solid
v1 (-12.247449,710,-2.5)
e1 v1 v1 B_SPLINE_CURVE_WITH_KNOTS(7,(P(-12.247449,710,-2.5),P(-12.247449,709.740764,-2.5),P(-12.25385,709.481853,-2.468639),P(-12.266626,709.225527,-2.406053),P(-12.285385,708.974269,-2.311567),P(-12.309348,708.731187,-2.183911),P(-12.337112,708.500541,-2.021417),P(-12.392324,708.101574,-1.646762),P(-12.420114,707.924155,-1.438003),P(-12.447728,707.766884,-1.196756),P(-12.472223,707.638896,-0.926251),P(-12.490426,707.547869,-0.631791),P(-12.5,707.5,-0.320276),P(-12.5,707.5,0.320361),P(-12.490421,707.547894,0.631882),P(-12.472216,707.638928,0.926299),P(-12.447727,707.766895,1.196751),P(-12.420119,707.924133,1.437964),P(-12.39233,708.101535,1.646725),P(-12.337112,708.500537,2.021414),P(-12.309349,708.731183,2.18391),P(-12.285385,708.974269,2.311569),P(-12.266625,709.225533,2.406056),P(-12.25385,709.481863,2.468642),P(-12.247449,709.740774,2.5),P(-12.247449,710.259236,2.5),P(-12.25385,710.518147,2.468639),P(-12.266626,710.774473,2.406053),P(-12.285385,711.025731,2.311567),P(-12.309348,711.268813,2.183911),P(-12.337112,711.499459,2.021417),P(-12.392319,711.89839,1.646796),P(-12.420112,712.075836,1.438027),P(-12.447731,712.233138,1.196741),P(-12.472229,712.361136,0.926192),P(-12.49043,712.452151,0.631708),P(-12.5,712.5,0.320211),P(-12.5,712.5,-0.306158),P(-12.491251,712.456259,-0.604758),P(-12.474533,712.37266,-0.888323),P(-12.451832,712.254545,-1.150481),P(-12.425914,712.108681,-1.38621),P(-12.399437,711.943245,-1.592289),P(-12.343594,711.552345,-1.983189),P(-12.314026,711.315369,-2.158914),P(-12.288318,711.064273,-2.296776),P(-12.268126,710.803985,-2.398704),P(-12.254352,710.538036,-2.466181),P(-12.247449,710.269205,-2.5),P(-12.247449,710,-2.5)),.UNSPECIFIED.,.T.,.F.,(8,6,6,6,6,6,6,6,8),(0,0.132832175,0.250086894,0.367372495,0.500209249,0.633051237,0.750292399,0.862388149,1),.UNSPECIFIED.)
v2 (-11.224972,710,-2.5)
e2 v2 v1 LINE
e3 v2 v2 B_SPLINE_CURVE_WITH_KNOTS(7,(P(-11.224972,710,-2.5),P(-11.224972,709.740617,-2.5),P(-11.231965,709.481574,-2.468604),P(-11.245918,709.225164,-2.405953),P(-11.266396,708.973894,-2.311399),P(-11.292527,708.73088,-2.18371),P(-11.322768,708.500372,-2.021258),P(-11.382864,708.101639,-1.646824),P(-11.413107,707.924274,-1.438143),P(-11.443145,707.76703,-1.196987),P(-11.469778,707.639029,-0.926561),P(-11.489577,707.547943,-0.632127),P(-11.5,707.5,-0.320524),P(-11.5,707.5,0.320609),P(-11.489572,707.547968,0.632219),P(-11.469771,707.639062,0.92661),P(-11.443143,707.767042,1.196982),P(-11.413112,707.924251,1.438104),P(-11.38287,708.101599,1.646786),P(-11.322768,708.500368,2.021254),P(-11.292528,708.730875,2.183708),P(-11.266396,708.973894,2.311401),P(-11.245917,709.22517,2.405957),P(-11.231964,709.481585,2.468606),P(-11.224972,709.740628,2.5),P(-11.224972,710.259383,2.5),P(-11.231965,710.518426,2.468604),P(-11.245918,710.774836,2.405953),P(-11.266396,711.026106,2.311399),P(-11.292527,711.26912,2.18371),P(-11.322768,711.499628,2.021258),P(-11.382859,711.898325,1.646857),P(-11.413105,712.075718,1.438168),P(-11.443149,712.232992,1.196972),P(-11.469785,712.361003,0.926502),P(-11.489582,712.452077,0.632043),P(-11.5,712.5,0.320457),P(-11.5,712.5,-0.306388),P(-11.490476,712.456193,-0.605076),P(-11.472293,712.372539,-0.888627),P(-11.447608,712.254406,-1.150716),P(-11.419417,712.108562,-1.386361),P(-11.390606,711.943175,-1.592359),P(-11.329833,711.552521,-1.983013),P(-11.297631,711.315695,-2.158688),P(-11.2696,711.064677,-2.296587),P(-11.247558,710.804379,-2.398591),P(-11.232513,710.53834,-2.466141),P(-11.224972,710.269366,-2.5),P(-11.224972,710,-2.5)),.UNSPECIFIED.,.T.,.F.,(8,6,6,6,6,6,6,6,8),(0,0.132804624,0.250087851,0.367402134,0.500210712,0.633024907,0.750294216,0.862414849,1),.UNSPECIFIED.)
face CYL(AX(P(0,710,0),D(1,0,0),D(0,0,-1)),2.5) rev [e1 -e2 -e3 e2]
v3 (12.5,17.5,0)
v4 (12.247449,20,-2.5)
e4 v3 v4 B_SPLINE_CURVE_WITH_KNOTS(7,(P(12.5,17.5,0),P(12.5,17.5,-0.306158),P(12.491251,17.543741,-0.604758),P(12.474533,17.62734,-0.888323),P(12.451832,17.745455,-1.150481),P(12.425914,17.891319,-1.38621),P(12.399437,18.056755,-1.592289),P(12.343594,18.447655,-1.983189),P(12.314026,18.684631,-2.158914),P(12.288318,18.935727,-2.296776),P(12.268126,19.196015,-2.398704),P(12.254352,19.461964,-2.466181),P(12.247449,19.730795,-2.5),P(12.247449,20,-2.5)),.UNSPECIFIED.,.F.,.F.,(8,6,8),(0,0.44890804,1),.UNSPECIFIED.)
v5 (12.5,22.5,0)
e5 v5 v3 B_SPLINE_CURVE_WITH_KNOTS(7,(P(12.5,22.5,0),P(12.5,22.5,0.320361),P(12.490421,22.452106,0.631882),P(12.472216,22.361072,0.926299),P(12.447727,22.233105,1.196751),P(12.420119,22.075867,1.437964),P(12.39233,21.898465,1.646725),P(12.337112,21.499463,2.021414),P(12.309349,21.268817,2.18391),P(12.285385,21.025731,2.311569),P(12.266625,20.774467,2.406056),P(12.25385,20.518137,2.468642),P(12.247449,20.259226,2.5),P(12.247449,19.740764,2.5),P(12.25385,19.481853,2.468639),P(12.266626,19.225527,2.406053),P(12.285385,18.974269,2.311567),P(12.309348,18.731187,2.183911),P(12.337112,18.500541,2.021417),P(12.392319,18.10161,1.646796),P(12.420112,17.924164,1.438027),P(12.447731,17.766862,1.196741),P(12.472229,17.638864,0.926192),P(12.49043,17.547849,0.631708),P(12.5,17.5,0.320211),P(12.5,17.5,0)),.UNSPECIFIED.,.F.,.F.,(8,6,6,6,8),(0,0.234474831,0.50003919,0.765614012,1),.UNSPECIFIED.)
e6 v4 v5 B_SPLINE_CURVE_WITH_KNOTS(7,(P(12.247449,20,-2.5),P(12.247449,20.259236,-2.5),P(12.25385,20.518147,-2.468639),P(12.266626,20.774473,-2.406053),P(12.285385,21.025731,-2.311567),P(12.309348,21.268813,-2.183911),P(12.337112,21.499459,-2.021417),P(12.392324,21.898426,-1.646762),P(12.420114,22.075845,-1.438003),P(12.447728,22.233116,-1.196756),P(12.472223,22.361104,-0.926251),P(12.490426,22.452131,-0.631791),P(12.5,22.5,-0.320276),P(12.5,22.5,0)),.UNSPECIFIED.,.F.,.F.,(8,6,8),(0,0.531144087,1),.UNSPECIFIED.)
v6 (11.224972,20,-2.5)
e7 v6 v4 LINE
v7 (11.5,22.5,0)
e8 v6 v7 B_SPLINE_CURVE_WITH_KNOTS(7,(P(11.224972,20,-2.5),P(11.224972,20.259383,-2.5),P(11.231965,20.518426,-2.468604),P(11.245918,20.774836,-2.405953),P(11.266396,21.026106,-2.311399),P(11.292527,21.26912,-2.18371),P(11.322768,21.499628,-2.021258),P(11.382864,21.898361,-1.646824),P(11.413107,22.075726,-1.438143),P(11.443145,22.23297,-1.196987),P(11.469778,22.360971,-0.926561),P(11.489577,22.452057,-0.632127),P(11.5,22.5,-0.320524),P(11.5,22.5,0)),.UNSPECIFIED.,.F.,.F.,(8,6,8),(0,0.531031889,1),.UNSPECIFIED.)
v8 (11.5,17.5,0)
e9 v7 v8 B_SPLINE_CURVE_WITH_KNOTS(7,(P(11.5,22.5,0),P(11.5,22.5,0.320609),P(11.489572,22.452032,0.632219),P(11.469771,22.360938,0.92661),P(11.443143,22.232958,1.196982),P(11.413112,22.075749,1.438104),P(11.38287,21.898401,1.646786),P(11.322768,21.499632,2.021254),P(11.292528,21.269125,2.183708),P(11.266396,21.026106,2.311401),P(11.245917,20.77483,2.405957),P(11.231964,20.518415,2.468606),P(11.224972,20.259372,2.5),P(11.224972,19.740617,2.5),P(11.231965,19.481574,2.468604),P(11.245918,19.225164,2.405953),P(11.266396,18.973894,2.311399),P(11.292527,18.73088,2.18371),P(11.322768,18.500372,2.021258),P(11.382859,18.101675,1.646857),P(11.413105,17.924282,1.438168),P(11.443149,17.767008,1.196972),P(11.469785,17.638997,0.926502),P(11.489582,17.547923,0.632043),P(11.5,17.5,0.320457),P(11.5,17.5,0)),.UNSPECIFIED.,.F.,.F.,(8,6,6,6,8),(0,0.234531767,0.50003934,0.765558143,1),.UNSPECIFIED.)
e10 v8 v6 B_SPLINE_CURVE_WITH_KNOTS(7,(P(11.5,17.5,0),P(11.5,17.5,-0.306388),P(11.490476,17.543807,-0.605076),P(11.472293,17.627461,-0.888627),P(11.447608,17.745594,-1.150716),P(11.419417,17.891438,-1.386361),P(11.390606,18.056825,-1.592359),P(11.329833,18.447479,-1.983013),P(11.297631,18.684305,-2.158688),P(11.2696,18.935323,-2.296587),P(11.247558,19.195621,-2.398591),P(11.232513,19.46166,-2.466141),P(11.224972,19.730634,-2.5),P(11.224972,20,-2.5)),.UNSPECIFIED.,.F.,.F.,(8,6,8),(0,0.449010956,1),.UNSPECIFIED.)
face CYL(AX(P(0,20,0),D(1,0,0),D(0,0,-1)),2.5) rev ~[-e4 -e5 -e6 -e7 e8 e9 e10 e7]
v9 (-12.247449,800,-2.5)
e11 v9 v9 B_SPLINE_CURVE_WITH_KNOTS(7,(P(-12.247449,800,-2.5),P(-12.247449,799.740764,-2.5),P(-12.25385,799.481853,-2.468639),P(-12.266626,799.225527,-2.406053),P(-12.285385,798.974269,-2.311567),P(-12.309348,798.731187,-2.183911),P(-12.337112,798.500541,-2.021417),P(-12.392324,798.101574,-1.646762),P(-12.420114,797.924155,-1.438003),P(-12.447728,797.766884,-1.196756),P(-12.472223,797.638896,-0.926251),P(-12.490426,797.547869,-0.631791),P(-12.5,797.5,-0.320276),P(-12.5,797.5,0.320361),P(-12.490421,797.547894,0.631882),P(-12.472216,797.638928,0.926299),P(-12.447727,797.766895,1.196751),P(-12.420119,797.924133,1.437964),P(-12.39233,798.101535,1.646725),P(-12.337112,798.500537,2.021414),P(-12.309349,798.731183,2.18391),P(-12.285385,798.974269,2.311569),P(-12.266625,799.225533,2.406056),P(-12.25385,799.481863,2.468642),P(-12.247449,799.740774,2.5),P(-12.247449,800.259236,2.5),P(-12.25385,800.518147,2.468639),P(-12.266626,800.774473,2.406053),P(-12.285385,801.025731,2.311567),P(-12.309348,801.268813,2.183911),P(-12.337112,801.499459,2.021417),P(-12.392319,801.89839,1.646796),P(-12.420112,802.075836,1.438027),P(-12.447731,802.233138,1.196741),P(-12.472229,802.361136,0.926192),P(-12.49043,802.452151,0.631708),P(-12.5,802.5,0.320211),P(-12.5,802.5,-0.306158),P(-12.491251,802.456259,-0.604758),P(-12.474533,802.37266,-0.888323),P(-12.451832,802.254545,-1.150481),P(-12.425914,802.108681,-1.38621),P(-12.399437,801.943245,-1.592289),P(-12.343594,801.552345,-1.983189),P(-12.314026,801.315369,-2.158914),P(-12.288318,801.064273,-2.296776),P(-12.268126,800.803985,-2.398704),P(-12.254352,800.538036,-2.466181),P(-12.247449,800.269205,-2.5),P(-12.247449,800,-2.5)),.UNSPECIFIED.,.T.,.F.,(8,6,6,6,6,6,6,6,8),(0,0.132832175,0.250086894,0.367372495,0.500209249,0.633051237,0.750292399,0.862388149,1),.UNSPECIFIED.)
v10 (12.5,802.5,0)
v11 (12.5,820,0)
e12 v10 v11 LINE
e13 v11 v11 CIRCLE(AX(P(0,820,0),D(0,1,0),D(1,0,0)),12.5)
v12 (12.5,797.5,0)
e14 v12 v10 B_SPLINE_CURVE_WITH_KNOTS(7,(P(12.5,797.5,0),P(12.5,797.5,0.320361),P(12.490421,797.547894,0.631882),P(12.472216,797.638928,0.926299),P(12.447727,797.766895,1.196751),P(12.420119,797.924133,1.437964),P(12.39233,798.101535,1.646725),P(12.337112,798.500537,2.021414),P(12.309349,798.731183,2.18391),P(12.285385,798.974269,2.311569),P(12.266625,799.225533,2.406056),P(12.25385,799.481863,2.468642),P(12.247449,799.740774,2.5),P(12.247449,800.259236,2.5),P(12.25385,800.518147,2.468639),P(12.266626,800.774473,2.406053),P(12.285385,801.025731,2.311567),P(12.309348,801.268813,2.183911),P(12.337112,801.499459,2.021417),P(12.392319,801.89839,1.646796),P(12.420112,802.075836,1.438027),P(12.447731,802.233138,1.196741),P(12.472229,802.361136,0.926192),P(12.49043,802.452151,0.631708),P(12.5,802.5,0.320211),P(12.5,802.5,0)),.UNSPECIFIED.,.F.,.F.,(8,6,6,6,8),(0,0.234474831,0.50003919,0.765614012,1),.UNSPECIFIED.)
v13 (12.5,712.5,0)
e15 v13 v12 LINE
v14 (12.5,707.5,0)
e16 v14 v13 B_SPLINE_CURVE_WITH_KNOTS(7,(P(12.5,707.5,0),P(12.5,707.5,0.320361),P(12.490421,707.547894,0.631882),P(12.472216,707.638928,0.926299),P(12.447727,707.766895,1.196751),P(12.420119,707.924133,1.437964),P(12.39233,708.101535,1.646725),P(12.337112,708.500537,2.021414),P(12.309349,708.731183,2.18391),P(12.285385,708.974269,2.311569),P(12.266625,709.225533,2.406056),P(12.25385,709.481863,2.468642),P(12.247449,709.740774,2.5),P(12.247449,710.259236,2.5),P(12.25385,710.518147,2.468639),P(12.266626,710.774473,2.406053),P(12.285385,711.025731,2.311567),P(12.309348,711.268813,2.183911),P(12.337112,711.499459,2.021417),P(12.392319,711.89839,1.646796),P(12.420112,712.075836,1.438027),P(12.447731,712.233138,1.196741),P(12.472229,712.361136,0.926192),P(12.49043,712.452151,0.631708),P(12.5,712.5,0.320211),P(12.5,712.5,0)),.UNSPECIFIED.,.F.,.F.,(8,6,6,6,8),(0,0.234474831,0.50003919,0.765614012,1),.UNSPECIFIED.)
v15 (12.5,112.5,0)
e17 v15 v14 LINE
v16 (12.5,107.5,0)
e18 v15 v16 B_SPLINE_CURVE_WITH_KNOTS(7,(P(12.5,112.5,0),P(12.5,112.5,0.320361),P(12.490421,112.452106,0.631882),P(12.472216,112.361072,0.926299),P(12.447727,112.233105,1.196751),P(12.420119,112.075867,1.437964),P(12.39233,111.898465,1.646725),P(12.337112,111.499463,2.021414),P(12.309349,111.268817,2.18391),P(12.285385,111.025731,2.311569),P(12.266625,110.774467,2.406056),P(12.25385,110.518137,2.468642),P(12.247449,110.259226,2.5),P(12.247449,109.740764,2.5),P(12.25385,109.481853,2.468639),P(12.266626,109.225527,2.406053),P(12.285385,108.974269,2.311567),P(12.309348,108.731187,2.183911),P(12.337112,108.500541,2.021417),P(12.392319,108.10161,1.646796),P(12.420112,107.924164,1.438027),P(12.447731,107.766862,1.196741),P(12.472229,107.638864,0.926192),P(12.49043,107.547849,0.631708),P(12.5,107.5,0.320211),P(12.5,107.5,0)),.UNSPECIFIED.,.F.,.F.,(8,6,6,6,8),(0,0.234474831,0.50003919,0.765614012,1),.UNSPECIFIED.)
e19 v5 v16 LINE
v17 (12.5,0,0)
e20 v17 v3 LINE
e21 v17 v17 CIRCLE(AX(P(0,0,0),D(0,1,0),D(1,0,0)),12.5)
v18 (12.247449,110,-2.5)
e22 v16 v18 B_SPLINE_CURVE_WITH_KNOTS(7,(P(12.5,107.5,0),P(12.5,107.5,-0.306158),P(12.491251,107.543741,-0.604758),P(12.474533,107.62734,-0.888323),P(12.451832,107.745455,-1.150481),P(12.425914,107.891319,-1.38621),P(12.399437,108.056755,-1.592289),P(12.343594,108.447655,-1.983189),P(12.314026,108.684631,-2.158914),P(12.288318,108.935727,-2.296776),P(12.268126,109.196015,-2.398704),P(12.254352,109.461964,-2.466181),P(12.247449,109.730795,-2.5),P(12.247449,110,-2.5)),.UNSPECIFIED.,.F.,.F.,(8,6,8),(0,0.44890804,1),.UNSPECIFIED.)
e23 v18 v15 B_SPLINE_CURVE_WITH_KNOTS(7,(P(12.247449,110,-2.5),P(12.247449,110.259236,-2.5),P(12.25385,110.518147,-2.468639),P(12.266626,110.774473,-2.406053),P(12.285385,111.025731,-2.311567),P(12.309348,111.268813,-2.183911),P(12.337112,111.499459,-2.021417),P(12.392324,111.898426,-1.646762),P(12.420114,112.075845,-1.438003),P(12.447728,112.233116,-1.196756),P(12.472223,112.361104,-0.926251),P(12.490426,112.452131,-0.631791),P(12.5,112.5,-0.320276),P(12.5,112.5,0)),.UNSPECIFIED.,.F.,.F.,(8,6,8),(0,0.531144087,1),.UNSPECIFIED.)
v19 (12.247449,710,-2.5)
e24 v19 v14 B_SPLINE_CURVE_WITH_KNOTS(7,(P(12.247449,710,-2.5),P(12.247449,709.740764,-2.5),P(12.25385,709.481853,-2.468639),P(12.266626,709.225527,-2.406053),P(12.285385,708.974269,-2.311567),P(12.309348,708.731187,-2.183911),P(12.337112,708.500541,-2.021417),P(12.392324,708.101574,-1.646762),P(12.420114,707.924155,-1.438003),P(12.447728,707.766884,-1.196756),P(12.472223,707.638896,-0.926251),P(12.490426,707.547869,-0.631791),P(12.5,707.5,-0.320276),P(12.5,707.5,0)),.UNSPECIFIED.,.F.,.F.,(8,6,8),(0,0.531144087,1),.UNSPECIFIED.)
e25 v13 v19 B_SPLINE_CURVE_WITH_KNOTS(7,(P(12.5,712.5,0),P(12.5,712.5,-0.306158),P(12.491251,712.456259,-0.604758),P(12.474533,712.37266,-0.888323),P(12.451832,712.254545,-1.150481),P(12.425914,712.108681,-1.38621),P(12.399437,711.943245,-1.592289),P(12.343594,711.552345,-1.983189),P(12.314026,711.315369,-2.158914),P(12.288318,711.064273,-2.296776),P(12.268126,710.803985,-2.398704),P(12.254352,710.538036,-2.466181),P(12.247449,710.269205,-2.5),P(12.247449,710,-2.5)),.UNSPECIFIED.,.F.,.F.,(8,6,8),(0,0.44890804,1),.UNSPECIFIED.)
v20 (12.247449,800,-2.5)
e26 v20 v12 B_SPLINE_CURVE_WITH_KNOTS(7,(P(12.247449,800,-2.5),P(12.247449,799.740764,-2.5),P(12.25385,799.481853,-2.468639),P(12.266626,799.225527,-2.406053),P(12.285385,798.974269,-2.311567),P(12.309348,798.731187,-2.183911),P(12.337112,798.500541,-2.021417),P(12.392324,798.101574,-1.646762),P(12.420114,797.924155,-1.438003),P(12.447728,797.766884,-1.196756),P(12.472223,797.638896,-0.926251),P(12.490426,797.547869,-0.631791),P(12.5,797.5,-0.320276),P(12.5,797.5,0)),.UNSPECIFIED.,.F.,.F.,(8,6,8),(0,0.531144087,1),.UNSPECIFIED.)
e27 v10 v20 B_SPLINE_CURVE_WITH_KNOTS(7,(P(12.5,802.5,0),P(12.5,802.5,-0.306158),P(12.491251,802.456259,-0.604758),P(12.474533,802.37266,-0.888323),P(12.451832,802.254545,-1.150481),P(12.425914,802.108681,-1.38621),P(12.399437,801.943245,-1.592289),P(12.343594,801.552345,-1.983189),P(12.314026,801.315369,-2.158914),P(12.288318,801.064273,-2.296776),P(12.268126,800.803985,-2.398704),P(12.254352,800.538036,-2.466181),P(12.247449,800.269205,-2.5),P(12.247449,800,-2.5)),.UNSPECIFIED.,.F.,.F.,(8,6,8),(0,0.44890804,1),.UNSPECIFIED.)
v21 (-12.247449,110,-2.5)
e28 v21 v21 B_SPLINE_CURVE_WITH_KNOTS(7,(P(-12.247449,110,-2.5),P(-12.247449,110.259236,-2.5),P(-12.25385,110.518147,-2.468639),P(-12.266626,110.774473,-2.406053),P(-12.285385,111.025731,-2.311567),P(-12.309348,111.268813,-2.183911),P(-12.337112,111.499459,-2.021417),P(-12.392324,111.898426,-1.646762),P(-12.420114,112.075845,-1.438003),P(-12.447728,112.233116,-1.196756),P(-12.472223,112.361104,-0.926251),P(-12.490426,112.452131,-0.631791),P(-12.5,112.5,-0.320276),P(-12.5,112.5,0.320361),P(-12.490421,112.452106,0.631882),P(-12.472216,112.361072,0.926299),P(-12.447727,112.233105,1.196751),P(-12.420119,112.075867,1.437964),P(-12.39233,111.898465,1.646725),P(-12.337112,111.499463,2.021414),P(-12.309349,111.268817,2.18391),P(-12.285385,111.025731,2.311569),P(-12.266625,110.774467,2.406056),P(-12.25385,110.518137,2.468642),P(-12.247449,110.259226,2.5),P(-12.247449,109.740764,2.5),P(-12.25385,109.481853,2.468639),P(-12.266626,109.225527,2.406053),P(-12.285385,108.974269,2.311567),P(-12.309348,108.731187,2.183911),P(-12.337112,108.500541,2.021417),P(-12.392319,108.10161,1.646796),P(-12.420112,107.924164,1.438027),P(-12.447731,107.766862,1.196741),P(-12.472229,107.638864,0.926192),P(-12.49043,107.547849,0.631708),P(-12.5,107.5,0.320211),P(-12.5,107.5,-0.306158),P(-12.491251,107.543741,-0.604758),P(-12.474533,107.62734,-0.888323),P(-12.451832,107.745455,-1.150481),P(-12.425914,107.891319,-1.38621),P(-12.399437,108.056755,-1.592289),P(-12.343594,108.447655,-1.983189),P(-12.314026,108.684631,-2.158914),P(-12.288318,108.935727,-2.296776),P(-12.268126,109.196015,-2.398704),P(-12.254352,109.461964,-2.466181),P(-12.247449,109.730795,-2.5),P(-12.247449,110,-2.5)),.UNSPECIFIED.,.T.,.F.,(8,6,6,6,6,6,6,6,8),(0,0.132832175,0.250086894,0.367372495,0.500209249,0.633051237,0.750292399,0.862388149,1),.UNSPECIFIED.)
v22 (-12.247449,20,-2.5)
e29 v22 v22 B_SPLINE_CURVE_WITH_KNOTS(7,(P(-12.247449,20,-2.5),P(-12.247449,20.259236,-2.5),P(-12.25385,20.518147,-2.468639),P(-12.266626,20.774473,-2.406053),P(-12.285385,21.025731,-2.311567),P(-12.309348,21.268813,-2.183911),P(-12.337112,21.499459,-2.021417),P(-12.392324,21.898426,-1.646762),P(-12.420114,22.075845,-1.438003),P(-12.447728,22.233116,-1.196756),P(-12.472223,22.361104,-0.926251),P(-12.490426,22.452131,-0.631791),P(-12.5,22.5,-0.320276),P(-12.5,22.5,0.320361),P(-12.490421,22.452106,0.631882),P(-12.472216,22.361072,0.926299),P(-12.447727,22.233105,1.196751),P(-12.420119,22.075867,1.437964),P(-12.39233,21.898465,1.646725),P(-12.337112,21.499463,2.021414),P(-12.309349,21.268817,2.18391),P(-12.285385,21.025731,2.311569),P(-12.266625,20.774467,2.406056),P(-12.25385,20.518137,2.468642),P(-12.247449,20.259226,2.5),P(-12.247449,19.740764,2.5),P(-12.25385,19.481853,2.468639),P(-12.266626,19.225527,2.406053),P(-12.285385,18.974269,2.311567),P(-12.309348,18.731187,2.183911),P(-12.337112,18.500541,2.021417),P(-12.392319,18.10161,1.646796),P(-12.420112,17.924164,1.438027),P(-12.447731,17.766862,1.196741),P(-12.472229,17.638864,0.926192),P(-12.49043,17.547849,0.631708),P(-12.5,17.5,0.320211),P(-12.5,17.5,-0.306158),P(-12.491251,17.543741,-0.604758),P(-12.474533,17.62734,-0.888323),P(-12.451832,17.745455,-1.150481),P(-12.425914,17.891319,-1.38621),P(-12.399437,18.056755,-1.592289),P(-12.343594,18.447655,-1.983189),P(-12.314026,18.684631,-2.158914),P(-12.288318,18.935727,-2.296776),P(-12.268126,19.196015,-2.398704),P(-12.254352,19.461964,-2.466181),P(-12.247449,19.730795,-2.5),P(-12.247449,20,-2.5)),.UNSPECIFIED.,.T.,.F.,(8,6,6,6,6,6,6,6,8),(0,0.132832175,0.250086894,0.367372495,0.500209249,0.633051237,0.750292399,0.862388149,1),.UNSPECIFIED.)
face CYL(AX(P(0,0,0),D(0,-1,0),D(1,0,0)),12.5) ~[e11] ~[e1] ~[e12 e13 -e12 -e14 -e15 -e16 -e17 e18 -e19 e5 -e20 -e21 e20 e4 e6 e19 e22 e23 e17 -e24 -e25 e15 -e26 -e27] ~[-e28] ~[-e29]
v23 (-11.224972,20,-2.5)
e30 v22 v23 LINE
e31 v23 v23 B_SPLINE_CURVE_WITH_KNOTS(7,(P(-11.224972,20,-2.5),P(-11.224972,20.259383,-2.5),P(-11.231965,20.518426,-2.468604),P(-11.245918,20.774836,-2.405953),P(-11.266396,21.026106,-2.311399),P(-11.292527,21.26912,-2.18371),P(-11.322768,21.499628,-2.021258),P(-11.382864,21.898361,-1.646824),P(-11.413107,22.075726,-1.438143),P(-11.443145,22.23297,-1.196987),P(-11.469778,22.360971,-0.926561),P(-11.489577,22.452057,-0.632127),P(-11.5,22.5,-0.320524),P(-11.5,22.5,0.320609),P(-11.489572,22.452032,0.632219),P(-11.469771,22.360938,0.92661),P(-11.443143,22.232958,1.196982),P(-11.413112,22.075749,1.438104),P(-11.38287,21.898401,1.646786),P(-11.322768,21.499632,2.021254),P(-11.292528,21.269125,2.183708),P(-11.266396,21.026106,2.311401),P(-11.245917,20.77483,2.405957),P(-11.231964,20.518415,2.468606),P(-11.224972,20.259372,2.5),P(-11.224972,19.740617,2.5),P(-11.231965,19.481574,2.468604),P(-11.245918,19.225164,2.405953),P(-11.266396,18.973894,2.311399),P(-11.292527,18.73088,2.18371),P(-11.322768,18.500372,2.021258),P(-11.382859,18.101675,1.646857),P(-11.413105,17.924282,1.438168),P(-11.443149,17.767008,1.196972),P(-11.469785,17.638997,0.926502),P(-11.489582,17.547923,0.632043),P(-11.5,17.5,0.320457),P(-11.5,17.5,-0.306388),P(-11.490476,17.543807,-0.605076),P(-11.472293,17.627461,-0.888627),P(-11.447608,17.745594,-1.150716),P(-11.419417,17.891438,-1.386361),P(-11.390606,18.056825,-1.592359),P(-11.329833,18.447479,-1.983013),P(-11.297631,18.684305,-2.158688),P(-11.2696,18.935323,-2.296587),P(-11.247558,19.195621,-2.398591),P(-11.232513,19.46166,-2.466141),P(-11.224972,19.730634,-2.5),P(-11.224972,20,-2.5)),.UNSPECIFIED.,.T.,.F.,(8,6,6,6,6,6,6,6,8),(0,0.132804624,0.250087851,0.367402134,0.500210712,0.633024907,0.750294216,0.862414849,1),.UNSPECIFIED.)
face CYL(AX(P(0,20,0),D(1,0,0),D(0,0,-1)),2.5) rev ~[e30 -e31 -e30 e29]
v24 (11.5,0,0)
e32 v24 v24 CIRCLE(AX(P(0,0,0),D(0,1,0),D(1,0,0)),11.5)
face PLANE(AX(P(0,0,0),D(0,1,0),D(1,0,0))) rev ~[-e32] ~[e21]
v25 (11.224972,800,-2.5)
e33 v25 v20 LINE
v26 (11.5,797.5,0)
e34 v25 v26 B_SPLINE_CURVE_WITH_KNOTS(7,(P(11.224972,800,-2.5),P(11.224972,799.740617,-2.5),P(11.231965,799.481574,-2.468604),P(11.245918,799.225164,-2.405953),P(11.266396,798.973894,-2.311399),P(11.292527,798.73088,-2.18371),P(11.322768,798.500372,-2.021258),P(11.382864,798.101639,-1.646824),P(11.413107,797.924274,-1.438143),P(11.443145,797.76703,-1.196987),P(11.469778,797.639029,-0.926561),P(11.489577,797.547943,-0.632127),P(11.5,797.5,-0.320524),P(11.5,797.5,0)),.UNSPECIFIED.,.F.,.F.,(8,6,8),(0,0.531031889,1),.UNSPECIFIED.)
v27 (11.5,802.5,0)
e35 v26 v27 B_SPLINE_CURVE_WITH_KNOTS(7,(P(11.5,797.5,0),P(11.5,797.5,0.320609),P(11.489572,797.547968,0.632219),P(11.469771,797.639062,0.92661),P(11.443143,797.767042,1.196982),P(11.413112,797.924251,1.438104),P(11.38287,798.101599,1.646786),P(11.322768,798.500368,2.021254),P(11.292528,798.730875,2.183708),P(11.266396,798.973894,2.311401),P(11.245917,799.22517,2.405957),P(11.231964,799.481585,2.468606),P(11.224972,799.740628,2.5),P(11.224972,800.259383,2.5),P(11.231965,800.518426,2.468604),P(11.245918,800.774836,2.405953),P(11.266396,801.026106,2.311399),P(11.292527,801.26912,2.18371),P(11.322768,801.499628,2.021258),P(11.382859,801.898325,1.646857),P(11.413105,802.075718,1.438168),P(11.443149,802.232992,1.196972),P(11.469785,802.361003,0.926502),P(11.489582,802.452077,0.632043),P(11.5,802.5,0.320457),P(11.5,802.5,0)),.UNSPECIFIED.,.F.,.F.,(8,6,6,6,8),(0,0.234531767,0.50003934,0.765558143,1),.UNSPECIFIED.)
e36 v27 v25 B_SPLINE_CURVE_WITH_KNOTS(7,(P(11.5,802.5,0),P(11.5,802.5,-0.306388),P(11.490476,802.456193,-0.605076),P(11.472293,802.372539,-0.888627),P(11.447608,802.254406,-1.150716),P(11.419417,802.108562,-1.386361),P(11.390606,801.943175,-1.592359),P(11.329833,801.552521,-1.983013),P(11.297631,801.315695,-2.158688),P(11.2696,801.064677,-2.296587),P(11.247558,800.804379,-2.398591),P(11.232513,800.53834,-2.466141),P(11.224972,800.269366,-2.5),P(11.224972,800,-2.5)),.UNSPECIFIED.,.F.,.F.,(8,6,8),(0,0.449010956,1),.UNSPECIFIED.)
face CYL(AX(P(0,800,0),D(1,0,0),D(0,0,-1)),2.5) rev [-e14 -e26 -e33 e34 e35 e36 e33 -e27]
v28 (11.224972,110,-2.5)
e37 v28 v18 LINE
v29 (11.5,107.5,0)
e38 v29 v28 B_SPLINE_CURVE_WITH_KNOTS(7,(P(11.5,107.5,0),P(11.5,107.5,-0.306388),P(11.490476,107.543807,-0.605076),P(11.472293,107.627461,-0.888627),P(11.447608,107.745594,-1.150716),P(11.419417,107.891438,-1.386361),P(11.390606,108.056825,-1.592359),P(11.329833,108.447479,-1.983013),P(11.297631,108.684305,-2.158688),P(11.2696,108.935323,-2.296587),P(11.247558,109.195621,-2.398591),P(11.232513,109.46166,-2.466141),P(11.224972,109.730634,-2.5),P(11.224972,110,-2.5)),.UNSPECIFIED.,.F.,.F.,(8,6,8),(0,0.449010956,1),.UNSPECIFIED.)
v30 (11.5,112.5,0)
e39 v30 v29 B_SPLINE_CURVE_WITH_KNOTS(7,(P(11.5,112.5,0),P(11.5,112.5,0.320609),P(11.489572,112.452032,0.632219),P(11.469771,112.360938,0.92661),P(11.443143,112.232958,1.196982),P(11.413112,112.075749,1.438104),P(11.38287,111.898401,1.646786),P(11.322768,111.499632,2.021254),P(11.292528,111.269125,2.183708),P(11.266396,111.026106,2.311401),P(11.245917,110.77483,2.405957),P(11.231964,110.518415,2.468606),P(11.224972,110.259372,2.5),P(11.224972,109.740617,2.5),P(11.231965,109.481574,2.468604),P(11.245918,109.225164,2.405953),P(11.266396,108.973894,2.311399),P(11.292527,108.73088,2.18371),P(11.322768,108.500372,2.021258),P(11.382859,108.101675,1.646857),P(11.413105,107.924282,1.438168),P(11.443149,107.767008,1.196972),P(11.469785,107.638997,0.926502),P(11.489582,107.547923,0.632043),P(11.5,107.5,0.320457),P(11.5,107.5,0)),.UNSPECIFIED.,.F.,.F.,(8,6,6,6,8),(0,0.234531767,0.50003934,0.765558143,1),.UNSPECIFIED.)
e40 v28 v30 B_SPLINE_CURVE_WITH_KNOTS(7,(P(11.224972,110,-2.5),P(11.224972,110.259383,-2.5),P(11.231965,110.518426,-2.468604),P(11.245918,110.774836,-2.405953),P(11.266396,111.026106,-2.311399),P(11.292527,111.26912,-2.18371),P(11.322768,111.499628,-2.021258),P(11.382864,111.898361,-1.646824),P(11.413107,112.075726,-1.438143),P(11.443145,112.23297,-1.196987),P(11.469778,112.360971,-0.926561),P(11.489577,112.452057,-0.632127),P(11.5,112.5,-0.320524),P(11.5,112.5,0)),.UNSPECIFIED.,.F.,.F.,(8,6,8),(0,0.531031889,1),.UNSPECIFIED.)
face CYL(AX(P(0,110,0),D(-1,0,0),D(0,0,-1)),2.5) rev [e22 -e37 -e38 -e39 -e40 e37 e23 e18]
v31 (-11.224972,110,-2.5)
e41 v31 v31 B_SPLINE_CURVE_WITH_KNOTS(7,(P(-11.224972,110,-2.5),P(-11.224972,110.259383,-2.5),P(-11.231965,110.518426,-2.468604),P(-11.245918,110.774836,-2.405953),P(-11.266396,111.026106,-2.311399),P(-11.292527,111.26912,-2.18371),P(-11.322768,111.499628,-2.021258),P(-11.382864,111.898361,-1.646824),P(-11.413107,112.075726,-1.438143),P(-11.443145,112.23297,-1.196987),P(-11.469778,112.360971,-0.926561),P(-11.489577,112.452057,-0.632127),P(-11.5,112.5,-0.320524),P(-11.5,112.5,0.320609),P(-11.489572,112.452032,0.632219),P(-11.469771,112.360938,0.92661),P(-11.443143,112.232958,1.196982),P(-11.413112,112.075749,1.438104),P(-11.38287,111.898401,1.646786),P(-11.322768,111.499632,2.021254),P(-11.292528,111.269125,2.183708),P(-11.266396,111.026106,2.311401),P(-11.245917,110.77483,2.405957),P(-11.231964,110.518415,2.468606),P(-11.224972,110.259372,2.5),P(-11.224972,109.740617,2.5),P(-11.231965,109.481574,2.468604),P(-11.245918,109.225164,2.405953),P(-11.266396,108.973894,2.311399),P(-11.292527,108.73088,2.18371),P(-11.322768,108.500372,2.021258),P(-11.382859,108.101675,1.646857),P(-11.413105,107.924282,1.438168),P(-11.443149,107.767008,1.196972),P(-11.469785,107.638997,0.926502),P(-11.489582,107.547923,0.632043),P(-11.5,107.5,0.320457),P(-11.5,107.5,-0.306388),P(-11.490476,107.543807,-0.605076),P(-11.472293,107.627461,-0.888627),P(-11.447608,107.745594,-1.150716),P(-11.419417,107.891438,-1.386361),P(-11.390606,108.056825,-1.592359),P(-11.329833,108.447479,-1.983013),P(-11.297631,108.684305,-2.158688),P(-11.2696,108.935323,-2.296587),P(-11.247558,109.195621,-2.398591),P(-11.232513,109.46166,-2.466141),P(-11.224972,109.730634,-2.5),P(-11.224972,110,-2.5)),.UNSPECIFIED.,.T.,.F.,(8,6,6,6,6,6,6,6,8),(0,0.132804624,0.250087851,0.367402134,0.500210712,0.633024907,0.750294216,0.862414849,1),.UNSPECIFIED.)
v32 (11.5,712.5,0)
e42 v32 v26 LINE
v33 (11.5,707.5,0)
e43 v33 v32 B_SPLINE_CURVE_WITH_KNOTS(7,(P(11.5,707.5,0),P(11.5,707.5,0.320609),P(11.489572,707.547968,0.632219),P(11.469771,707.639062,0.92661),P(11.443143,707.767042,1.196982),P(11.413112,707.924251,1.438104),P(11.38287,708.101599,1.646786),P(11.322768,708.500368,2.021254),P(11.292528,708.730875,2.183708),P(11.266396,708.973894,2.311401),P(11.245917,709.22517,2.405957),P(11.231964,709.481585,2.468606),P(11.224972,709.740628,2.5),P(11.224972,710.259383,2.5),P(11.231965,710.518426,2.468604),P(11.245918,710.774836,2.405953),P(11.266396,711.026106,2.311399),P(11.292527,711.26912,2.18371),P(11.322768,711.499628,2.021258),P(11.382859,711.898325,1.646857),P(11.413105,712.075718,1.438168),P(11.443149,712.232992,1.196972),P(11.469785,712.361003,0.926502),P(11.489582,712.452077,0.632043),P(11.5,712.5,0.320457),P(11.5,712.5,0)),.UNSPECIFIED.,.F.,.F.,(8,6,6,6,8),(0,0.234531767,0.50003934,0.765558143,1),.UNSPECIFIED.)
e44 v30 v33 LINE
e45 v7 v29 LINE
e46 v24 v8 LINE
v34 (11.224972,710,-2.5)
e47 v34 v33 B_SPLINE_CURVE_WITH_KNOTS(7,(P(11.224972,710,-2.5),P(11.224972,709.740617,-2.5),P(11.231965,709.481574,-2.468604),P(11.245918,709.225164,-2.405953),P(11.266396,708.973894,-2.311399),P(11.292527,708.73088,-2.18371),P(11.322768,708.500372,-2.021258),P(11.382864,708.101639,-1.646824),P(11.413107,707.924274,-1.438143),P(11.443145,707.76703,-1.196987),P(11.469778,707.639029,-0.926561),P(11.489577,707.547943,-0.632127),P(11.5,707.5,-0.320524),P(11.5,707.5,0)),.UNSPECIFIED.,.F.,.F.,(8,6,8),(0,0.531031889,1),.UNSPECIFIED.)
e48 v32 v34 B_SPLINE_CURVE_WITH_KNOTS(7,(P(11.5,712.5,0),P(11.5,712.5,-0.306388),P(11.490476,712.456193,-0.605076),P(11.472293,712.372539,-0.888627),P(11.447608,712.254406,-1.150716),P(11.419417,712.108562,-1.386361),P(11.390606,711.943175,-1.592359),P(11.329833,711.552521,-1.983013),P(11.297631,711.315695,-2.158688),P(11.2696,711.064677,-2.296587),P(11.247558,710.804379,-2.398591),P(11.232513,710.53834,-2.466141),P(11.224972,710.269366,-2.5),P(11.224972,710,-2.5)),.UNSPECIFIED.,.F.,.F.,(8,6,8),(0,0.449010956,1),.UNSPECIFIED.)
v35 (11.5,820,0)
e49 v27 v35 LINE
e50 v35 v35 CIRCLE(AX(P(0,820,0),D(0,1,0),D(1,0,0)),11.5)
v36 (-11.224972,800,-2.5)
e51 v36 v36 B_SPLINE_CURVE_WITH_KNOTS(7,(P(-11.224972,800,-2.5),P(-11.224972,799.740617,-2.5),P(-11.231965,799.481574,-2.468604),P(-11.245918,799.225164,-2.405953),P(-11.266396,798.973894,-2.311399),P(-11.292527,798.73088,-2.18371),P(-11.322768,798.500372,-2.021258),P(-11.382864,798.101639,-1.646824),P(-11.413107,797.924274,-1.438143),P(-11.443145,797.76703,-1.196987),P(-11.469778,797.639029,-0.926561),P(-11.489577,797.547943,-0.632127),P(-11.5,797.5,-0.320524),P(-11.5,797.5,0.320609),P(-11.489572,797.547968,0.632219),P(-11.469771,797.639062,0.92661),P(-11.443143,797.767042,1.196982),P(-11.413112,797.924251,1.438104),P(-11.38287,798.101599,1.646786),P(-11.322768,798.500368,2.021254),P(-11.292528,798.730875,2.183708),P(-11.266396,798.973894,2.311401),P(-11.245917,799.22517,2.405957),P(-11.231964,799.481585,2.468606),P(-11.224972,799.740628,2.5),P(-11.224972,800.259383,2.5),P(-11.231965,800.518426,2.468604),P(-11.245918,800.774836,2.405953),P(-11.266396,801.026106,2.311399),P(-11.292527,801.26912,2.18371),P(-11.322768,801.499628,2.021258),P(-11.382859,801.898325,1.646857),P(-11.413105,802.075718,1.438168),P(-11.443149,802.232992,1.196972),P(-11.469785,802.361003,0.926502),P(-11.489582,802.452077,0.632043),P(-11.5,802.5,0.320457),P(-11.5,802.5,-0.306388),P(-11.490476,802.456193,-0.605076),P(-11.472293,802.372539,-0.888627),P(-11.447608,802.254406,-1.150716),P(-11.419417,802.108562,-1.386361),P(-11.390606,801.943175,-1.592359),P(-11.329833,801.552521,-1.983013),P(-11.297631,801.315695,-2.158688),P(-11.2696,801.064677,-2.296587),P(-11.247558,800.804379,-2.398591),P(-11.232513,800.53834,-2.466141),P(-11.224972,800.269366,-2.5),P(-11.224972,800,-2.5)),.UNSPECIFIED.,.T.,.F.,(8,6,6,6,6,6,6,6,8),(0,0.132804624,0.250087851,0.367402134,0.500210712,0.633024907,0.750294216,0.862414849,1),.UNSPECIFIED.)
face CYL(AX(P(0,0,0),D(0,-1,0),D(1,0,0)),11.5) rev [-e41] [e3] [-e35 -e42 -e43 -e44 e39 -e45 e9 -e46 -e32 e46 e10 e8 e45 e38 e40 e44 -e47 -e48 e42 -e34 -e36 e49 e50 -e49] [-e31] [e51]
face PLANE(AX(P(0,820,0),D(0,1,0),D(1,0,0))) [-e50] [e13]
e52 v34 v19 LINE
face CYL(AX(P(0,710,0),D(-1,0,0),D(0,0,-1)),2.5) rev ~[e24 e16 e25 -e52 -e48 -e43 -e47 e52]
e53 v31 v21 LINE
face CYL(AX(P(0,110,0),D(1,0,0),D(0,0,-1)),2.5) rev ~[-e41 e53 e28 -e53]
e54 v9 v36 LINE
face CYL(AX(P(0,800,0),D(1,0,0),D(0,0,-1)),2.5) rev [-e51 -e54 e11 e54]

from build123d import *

# Parameters (mm, degrees)
SKETCH_1_R          = 12.5
SKETCH_1_R_2        = 11.5
EXTRUDE_1_DEPTH     = 820
SKETCH_2_R          = 2.5
CUT_EXTRUDE_1_DEPTH = 821.190526646


with BuildPart() as part:
    # Эскиз1 → Вытянуть-Тонкостенный1 (new body)
    with BuildSketch(Plane(origin=(0, 0, 0), x_dir=(1, 0, 0), z_dir=(0, 1, 0))):
        Circle(SKETCH_1_R)
        Circle(SKETCH_1_R_2, mode=Mode.SUBTRACT)
    extrude(amount=EXTRUDE_1_DEPTH)

    # Эскиз2 → Вырез-Вытянуть1 (cut, symmetric)
    with BuildSketch(Plane(origin=(0, 0, 0), x_dir=(0, 0, -1), z_dir=(1, 0, 0))):
        with Locations((0, 110)):
            Circle(SKETCH_2_R)
        with Locations((0, 20)):
            Circle(SKETCH_2_R)
    cut_extrude_1 = extrude(amount=CUT_EXTRUDE_1_DEPTH, both=True, mode=Mode.SUBTRACT)

    # Зеркальное отражение1: Вырез-Вытянуть1 across plane
    add(cut_extrude_1.mirror(Plane(origin=(0, 410, 0), x_dir=(0, 0, 1), z_dir=(0, -1, 0))), mode=Mode.SUBTRACT)


solid = part.part
